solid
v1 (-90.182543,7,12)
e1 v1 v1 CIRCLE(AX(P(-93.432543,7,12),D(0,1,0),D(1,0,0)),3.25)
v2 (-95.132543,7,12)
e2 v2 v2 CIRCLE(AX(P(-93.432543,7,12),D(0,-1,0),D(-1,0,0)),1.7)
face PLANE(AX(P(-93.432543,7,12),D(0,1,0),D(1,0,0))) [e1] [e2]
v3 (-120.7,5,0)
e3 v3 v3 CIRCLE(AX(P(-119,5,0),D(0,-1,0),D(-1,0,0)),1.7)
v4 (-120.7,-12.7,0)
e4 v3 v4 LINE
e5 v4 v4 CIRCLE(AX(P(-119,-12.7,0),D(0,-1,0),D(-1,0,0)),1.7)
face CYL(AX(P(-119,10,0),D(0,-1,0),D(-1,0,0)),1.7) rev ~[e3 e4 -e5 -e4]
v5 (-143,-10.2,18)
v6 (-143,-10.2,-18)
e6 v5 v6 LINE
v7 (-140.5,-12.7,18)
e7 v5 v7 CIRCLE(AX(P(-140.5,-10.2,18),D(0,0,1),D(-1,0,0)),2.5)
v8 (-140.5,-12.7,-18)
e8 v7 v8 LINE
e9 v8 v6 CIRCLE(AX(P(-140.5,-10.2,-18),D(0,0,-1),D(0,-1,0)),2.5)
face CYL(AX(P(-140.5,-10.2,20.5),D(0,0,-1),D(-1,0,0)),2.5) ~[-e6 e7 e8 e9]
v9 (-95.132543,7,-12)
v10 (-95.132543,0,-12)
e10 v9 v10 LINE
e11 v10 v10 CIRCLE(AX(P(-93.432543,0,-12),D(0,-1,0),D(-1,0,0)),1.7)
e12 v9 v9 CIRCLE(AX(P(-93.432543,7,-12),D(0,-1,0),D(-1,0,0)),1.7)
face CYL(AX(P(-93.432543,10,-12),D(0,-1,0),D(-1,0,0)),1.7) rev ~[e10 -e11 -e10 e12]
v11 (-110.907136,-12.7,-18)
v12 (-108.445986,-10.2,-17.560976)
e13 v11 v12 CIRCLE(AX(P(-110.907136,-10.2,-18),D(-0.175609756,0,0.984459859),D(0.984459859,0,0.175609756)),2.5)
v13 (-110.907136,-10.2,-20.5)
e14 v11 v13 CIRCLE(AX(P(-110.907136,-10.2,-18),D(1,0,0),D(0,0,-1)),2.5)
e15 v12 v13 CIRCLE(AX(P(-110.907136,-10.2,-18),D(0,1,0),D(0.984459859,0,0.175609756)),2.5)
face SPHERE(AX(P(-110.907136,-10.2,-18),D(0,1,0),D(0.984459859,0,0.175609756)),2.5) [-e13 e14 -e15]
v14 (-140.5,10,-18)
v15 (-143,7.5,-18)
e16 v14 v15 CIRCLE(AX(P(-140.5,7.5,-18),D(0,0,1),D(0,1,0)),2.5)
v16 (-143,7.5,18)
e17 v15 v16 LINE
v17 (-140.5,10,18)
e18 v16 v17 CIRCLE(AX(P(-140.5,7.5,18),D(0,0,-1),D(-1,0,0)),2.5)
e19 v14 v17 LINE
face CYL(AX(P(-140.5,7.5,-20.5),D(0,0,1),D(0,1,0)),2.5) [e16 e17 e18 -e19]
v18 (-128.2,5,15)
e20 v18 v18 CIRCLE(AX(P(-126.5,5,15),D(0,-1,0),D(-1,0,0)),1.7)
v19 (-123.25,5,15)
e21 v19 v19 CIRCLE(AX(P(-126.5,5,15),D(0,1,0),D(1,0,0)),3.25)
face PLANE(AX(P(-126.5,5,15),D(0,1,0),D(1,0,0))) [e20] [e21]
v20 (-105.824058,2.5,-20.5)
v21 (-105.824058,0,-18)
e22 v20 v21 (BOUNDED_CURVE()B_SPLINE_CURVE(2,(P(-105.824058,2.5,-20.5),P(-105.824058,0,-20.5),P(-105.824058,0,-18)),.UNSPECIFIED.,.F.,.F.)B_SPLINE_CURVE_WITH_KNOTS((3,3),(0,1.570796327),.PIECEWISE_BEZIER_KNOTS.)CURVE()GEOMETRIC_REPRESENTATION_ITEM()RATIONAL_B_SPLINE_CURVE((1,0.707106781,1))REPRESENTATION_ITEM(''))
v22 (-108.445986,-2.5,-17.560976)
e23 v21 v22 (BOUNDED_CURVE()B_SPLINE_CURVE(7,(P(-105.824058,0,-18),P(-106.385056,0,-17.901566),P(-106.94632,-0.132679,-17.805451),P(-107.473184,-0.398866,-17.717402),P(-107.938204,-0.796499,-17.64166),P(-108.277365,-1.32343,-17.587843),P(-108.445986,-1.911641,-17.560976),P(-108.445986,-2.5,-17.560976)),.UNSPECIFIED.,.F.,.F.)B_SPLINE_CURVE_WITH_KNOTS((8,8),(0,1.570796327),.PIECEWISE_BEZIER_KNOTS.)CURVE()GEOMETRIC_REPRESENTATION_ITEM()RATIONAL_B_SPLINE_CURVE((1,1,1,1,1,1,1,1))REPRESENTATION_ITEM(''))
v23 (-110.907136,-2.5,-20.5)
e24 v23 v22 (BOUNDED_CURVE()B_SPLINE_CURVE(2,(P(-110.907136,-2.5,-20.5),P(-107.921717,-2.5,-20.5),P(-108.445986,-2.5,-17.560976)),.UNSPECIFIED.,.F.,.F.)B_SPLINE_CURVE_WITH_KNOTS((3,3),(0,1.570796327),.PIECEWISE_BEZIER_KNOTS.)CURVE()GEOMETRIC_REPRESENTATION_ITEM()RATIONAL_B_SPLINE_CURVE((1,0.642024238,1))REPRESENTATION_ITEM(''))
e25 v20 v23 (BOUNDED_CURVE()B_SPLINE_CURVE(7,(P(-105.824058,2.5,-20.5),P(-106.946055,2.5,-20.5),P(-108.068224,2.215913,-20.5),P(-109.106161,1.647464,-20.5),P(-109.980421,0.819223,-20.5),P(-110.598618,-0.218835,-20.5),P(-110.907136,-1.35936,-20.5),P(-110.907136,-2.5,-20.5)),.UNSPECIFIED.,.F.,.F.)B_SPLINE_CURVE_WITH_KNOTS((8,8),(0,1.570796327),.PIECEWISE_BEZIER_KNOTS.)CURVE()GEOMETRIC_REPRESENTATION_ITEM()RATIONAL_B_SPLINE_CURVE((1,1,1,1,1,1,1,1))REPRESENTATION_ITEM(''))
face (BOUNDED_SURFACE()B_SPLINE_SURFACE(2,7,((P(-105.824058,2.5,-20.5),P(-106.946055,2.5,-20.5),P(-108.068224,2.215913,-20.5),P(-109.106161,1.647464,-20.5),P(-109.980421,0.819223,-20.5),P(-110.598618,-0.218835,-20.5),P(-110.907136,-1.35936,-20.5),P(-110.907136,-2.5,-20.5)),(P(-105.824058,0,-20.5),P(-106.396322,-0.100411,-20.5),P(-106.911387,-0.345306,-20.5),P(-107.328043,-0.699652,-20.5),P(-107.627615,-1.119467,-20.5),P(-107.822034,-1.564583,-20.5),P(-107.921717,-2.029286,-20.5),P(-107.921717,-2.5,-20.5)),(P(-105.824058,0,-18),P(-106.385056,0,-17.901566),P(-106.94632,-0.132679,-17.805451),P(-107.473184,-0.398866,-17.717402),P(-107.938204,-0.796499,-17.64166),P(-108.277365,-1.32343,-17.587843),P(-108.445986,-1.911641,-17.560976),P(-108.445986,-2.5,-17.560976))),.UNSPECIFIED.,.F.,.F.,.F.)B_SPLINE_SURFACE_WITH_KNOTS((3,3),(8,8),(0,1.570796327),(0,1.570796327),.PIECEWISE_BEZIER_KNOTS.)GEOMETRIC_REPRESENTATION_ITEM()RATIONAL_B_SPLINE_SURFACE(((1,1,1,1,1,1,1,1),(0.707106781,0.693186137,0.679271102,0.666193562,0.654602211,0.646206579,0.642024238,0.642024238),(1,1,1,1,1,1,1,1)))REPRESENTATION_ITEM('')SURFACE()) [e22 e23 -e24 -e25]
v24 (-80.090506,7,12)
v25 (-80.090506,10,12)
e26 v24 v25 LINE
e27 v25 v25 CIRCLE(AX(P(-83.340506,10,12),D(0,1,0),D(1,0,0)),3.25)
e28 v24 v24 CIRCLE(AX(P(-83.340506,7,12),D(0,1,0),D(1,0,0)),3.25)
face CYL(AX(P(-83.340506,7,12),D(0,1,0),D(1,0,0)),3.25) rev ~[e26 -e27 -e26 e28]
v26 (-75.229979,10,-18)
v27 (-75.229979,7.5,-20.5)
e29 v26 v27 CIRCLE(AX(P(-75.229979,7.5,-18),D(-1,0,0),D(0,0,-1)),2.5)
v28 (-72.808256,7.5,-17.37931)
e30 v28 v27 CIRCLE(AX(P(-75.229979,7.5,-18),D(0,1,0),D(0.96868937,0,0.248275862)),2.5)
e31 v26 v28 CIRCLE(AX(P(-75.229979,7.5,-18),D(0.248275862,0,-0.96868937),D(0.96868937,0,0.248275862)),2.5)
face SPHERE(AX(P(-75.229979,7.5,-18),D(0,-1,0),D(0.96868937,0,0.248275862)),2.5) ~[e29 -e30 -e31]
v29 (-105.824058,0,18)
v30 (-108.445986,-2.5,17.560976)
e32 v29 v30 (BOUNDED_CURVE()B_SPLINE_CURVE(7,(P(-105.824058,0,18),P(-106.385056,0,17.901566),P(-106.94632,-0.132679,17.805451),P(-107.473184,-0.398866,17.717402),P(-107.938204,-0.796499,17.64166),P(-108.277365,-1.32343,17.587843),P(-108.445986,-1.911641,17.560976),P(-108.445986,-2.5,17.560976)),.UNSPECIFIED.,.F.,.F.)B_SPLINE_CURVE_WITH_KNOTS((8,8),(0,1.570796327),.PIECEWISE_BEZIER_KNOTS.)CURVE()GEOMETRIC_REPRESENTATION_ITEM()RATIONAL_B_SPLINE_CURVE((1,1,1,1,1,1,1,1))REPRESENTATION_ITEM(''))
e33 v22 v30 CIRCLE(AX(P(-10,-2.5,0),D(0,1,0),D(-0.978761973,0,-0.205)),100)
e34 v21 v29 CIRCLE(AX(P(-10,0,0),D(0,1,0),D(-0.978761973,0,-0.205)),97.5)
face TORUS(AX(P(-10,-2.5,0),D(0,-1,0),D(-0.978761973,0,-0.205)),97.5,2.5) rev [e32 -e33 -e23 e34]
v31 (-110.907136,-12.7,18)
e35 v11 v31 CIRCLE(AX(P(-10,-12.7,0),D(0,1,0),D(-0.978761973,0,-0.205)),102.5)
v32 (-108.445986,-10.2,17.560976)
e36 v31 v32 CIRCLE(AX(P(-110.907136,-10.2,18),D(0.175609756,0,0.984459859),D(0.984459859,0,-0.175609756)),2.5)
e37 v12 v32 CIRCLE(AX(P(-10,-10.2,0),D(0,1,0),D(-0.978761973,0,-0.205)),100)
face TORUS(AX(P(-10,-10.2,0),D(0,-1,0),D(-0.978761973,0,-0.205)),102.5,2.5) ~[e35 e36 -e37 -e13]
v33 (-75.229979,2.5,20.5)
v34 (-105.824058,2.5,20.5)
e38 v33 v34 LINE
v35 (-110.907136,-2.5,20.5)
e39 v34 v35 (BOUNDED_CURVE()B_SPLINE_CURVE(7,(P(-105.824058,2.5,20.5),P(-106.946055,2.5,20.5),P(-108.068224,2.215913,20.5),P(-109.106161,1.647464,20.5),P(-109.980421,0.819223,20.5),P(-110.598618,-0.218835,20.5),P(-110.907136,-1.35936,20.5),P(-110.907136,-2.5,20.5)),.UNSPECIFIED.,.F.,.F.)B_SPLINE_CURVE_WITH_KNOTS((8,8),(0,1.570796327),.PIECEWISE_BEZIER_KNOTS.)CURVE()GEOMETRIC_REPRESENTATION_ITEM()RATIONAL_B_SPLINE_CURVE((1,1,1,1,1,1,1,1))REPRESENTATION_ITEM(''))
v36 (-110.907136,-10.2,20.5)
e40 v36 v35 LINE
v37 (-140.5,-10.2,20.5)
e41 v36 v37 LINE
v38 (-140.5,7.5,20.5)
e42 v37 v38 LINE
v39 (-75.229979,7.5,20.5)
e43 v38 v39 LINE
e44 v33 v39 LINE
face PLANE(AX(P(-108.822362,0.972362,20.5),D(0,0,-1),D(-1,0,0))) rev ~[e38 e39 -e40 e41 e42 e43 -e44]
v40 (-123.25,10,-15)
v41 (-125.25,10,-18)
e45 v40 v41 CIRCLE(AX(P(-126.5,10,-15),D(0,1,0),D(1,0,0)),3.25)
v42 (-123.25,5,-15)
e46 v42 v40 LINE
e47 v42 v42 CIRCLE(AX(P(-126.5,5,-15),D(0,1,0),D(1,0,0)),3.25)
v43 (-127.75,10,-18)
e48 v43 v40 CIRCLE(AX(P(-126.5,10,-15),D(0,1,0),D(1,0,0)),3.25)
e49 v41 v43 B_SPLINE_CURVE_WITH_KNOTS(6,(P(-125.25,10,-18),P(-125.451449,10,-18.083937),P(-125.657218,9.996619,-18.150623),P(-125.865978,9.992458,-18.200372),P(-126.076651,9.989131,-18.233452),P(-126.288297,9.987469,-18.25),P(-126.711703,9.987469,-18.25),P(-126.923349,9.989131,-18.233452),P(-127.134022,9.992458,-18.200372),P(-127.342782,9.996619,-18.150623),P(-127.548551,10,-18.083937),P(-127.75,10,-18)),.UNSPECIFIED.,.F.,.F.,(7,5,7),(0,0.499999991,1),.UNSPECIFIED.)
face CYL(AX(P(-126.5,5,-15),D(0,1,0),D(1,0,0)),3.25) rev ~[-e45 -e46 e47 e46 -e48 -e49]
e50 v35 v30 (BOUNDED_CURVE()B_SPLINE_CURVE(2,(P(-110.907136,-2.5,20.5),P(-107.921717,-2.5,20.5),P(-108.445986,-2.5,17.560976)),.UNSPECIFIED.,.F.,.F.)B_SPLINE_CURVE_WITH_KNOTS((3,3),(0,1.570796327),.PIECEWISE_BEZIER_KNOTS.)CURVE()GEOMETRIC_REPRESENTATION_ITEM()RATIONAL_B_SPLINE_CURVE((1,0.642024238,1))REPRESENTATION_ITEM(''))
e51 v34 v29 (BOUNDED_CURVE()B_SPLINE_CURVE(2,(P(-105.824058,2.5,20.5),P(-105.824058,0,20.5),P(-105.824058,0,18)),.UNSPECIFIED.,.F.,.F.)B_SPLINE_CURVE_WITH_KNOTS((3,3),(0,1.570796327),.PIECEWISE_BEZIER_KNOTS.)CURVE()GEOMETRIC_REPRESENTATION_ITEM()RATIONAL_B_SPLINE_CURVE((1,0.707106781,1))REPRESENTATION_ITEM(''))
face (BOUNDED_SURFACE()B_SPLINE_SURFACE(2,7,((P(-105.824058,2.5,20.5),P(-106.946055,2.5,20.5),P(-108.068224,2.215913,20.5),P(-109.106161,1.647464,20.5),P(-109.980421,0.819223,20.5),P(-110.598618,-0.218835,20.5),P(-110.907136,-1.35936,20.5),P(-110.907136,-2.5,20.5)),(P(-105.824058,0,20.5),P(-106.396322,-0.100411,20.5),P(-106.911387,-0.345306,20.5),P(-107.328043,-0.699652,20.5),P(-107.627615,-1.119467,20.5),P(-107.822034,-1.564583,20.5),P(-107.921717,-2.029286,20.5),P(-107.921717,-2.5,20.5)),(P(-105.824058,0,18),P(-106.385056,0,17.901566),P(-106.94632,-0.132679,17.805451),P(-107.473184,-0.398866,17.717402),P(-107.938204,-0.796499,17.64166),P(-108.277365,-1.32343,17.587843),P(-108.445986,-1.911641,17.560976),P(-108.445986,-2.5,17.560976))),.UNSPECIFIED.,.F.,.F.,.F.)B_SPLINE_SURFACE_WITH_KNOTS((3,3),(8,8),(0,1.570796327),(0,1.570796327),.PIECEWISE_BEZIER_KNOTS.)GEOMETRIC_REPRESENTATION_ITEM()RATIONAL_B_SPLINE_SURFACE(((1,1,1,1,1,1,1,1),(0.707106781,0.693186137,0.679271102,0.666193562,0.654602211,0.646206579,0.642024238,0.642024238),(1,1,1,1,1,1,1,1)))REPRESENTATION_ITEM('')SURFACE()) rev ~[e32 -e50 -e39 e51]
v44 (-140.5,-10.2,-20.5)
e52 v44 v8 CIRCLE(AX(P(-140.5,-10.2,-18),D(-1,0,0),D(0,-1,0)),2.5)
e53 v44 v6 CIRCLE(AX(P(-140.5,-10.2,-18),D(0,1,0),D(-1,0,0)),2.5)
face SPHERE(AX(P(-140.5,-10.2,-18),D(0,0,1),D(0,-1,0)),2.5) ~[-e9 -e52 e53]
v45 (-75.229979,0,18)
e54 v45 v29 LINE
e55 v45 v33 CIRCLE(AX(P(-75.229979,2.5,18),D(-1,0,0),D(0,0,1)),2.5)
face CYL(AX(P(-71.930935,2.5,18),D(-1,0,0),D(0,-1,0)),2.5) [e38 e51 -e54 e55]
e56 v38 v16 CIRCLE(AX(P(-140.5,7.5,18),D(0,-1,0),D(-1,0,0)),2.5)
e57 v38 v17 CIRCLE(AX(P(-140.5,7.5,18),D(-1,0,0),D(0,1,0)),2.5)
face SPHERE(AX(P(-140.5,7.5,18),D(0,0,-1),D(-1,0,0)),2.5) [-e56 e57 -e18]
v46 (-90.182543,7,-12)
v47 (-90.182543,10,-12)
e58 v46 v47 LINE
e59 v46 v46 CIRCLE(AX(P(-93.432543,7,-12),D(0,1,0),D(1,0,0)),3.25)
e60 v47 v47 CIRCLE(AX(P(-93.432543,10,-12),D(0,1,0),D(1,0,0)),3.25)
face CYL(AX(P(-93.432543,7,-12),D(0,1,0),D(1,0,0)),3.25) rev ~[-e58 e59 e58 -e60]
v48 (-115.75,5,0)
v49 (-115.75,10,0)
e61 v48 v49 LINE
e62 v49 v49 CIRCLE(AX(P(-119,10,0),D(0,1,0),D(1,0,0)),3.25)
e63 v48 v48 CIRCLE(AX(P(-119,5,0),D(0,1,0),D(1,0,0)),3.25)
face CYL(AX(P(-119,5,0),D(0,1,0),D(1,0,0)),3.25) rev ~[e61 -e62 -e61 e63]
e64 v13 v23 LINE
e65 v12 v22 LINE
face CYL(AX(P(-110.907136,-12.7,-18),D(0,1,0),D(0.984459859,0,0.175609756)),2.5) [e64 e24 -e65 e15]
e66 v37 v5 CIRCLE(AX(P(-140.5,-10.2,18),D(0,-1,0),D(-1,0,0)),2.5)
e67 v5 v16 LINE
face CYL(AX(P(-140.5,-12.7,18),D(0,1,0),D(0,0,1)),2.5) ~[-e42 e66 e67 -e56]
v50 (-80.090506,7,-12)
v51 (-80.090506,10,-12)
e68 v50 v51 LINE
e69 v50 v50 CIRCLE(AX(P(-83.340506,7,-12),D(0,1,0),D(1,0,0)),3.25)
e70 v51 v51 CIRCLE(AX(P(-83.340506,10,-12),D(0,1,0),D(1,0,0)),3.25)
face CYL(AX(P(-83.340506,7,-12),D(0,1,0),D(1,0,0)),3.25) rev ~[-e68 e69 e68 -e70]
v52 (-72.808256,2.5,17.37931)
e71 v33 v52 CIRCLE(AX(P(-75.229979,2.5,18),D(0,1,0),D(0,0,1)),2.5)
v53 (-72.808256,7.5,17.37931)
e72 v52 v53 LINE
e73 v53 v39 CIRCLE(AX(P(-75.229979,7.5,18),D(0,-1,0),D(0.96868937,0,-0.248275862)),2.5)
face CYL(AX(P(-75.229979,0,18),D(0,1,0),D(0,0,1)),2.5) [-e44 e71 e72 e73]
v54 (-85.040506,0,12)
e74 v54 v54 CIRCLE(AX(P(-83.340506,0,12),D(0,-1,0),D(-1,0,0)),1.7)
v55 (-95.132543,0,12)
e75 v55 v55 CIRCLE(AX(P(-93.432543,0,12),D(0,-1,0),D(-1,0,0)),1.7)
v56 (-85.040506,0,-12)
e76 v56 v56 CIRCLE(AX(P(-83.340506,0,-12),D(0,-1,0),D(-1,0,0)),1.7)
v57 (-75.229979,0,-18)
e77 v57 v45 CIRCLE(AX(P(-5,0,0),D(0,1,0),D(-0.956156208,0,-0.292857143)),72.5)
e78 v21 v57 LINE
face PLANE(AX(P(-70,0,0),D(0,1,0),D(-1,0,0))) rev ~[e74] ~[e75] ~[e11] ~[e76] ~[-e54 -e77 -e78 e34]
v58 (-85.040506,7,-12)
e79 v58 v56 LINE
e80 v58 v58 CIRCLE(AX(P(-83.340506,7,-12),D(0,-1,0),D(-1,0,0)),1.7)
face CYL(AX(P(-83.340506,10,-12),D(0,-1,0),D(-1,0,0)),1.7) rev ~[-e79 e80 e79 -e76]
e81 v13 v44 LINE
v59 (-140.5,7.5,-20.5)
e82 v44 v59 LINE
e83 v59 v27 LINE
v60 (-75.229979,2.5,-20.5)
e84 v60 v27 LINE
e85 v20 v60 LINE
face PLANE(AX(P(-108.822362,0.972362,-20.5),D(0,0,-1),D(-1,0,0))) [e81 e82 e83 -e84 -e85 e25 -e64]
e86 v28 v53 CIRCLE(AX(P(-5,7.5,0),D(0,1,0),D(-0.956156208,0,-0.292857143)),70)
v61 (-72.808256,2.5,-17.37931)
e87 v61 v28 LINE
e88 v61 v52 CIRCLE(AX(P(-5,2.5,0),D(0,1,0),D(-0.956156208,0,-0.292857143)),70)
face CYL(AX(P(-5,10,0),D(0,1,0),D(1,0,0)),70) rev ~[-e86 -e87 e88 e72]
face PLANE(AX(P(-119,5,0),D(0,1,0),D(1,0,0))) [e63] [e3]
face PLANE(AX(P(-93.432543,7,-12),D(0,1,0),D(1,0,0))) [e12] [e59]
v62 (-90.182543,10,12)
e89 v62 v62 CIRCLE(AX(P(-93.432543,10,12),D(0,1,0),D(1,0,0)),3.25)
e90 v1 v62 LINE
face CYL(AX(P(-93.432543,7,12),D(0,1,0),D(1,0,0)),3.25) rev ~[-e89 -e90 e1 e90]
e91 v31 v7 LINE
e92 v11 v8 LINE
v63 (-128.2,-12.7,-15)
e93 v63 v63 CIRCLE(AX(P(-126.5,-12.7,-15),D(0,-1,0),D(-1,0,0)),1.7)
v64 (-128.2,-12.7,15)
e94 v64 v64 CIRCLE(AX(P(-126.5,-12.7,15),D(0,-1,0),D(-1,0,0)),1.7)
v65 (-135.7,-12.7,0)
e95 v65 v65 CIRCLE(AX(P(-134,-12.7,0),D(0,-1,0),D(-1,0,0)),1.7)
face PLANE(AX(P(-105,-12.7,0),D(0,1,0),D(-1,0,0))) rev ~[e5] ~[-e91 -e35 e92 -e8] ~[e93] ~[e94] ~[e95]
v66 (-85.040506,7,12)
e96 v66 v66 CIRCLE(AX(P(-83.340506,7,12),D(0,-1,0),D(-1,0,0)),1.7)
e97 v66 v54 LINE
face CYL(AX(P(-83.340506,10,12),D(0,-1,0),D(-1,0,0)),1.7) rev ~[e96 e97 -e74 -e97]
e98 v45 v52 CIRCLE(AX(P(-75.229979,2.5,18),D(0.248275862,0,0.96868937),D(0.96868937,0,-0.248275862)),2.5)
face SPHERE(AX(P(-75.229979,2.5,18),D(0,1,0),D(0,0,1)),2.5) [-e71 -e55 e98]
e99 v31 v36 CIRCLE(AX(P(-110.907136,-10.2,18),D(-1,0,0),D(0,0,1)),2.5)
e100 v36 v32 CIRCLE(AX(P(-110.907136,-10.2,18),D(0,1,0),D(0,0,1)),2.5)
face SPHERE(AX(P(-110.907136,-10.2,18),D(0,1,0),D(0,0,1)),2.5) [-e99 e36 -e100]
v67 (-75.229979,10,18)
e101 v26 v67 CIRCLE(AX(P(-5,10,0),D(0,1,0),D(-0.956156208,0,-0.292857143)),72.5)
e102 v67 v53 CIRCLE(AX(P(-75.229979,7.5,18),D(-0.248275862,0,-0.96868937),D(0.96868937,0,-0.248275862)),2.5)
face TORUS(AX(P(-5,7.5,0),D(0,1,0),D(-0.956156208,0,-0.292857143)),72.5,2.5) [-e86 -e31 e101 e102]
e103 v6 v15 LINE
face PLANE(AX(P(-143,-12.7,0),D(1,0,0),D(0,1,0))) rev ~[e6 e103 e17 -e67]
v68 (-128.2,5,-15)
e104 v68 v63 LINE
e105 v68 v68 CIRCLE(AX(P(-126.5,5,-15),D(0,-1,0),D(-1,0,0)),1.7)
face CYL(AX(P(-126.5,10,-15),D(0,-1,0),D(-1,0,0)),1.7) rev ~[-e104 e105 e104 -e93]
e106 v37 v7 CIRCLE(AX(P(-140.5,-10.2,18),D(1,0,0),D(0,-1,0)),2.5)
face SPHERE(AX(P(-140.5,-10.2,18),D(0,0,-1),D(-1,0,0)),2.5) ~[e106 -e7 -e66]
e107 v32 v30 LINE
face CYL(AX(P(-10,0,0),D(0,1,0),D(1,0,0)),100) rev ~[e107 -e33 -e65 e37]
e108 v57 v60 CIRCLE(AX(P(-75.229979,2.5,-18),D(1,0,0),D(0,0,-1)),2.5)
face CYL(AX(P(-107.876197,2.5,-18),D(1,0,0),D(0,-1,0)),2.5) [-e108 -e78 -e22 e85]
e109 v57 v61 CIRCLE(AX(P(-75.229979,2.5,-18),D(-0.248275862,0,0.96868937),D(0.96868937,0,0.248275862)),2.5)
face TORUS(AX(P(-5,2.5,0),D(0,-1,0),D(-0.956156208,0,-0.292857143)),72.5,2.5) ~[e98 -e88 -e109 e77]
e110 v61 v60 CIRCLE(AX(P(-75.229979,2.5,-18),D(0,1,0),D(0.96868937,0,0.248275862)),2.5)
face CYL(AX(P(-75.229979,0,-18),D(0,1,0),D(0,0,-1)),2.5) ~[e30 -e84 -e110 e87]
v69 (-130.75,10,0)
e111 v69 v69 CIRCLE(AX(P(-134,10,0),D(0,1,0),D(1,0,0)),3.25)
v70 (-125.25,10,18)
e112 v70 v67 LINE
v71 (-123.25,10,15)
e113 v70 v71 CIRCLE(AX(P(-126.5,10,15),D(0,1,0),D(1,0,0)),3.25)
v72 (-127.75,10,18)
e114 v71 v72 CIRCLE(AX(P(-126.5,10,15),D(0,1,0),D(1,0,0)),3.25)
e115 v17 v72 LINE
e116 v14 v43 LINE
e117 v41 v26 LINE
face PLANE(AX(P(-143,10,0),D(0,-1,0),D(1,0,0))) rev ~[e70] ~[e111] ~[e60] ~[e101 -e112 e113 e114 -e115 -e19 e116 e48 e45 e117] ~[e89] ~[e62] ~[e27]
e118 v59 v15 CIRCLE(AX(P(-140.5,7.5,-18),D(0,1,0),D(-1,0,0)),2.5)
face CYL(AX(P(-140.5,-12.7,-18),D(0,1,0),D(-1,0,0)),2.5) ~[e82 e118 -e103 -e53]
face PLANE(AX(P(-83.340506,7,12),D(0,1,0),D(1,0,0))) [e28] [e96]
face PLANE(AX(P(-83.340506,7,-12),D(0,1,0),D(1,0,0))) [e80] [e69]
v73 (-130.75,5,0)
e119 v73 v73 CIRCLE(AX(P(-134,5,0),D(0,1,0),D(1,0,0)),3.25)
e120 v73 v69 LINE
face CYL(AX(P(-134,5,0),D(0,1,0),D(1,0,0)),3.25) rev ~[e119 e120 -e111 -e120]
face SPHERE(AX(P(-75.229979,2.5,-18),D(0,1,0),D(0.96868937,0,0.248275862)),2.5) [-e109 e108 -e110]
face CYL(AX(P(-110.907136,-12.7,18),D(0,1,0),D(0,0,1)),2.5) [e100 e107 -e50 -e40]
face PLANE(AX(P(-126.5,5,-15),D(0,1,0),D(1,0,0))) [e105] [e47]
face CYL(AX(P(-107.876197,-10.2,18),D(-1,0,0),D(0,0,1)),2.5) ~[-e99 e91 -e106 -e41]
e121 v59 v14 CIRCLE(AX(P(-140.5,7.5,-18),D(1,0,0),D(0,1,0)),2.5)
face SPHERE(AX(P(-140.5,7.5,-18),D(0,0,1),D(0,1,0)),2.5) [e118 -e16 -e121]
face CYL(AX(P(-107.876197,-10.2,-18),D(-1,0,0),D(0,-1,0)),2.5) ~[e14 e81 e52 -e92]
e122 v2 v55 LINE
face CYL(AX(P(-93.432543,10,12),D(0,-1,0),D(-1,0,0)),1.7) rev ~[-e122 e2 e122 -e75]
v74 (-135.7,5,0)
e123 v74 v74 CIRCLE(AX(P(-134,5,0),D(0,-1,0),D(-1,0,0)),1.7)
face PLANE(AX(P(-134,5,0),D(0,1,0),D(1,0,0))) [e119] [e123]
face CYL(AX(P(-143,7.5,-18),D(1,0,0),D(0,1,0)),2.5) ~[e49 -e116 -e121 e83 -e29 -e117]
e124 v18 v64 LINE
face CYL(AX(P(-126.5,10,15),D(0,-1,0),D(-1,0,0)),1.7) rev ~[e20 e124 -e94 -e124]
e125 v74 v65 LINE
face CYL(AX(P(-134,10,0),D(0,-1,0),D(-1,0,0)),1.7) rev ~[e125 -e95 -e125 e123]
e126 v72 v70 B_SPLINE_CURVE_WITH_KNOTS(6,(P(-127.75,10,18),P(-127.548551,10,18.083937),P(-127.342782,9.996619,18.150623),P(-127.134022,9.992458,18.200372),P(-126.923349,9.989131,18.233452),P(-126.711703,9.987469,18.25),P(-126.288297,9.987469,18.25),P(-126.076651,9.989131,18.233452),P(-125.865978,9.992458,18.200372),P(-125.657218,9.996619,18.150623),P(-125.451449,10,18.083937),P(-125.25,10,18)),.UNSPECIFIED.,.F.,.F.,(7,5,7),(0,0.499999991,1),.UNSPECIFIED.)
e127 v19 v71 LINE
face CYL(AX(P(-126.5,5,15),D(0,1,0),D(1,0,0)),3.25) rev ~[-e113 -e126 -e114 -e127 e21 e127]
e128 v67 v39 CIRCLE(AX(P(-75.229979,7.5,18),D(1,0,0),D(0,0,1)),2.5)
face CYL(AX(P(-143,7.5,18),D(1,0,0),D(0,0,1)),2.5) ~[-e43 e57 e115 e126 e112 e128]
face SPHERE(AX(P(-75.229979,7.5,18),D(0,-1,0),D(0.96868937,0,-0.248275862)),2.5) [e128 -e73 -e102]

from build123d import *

# Parameters (mm, degrees)
BOSS_EXTRUDE1_DEPTH            = 20.5
SKETCH2_R                      = 70
CUT_EXTRUDE1_DEPTH             = 41
SKETCH3_R                      = 100
CUT_EXTRUDE2_DEPTH             = 41
FILLET1_R                      = 2.5
CBORE_FOR_M3_SHCS1_D           = 3.4
CBORE_FOR_M3_SHCS1_DEPTH       = 45
CBORE_FOR_M3_SHCS1_CBORE_D     = 6.5
CBORE_FOR_M3_SHCS1_CBORE_DEPTH = 5
CBORE_FOR_M3_SHCS1_TIP         = 1.021463052
CBORE_FOR_M3_SHCS2_D           = 3.4
CBORE_FOR_M3_SHCS2_DEPTH       = 45
CBORE_FOR_M3_SHCS2_CBORE_D     = 6.5
CBORE_FOR_M3_SHCS2_CBORE_DEPTH = 3
CBORE_FOR_M3_SHCS2_TIP         = 1.021463052


with BuildPart() as part:
    # Sketch1 → Boss-Extrude1 (new body, symmetric)
    with BuildSketch(Plane.XY):
        Polygon((-70, 0), (-105, 0), (-105, -12.7), (-143, -12.7), (-143, 10), (-70, 10), align=None)
    extrude(amount=BOSS_EXTRUDE1_DEPTH, both=True)

    # Sketch2 → Cut-Extrude1 (cut)
    with BuildSketch(Plane(origin=(0, 10, 0), x_dir=(1, 0, 0), z_dir=(0, 1, 0))):
        with Locations((-5, 0)):
            Circle(SKETCH2_R)
    extrude(amount=-CUT_EXTRUDE1_DEPTH, mode=Mode.SUBTRACT)

    # Sketch3 → Cut-Extrude2 (cut)
    with BuildSketch(Plane(origin=(0, 0, 0), x_dir=(1, 0, 0), z_dir=(0, 1, 0))):
        with Locations((-10, 0)):
            Circle(SKETCH3_R)
    extrude(amount=-CUT_EXTRUDE2_DEPTH, mode=Mode.SUBTRACT)

    # Fillet1
    fillet1_edges = [part.edges().sort_by_distance(p)[0] for p in [
        (-143, -12.7, 0),
        (-143, 10, 0),
        (-143, -1.35, 20.5),
        (-125.438098655, -12.7, 20.5),
        (-107.465467276, 10, -20.5),
        (-71.930934552, 5, -20.5),
        (-107.465467276, 10, 20.5),
        (-75, 0, 0),
        (-71.930934552, 5, 20.5),
        (-75, 10, 0),
        (-89.903565931, 0, 20.5),
        (-107.876197311, -6.35, -20.5),
        (-110, -12.7, 0),
        (-107.876197311, -6.35, 20.5),
        (-110, 0, 0),
        (-89.903565931, 0, -20.5),
        (-125.438098655, -12.7, -20.5),
        (-143, -1.35, -20.5),
    ]]
    fillet(fillet1_edges, radius=FILLET1_R)

    # CBORE for M3 SHCS1
    with Locations(Plane(origin=(0, 10, 0), x_dir=(1, 0, 0), z_dir=(0, 1, 0))):
        with Locations((-134, 0), (-119, 0), (-126.5, 15), (-126.5, -15)):
            CounterBoreHole(CBORE_FOR_M3_SHCS1_D / 2, CBORE_FOR_M3_SHCS1_CBORE_D / 2, CBORE_FOR_M3_SHCS1_CBORE_DEPTH, depth=CBORE_FOR_M3_SHCS1_DEPTH)
            with Locations((0, 0, -(CBORE_FOR_M3_SHCS1_DEPTH + CBORE_FOR_M3_SHCS1_TIP / 2))):  # 118° drill point
                Cone(0, CBORE_FOR_M3_SHCS1_D / 2, CBORE_FOR_M3_SHCS1_TIP, mode=Mode.SUBTRACT)

    # CBORE for M3 SHCS2
    with Locations(Plane(origin=(0, 10, 0), x_dir=(1, 0, 0), z_dir=(0, 1, 0))):
        with Locations((-93.432542511, 12), (-93.432542511, -12), (-83.340506358, 12), (-83.340506358, -12)):
            CounterBoreHole(CBORE_FOR_M3_SHCS2_D / 2, CBORE_FOR_M3_SHCS2_CBORE_D / 2, CBORE_FOR_M3_SHCS2_CBORE_DEPTH, depth=CBORE_FOR_M3_SHCS2_DEPTH)
            with Locations((0, 0, -(CBORE_FOR_M3_SHCS2_DEPTH + CBORE_FOR_M3_SHCS2_TIP / 2))):  # 118° drill point
                Cone(0, CBORE_FOR_M3_SHCS2_D / 2, CBORE_FOR_M3_SHCS2_TIP, mode=Mode.SUBTRACT)


solid = part.part
